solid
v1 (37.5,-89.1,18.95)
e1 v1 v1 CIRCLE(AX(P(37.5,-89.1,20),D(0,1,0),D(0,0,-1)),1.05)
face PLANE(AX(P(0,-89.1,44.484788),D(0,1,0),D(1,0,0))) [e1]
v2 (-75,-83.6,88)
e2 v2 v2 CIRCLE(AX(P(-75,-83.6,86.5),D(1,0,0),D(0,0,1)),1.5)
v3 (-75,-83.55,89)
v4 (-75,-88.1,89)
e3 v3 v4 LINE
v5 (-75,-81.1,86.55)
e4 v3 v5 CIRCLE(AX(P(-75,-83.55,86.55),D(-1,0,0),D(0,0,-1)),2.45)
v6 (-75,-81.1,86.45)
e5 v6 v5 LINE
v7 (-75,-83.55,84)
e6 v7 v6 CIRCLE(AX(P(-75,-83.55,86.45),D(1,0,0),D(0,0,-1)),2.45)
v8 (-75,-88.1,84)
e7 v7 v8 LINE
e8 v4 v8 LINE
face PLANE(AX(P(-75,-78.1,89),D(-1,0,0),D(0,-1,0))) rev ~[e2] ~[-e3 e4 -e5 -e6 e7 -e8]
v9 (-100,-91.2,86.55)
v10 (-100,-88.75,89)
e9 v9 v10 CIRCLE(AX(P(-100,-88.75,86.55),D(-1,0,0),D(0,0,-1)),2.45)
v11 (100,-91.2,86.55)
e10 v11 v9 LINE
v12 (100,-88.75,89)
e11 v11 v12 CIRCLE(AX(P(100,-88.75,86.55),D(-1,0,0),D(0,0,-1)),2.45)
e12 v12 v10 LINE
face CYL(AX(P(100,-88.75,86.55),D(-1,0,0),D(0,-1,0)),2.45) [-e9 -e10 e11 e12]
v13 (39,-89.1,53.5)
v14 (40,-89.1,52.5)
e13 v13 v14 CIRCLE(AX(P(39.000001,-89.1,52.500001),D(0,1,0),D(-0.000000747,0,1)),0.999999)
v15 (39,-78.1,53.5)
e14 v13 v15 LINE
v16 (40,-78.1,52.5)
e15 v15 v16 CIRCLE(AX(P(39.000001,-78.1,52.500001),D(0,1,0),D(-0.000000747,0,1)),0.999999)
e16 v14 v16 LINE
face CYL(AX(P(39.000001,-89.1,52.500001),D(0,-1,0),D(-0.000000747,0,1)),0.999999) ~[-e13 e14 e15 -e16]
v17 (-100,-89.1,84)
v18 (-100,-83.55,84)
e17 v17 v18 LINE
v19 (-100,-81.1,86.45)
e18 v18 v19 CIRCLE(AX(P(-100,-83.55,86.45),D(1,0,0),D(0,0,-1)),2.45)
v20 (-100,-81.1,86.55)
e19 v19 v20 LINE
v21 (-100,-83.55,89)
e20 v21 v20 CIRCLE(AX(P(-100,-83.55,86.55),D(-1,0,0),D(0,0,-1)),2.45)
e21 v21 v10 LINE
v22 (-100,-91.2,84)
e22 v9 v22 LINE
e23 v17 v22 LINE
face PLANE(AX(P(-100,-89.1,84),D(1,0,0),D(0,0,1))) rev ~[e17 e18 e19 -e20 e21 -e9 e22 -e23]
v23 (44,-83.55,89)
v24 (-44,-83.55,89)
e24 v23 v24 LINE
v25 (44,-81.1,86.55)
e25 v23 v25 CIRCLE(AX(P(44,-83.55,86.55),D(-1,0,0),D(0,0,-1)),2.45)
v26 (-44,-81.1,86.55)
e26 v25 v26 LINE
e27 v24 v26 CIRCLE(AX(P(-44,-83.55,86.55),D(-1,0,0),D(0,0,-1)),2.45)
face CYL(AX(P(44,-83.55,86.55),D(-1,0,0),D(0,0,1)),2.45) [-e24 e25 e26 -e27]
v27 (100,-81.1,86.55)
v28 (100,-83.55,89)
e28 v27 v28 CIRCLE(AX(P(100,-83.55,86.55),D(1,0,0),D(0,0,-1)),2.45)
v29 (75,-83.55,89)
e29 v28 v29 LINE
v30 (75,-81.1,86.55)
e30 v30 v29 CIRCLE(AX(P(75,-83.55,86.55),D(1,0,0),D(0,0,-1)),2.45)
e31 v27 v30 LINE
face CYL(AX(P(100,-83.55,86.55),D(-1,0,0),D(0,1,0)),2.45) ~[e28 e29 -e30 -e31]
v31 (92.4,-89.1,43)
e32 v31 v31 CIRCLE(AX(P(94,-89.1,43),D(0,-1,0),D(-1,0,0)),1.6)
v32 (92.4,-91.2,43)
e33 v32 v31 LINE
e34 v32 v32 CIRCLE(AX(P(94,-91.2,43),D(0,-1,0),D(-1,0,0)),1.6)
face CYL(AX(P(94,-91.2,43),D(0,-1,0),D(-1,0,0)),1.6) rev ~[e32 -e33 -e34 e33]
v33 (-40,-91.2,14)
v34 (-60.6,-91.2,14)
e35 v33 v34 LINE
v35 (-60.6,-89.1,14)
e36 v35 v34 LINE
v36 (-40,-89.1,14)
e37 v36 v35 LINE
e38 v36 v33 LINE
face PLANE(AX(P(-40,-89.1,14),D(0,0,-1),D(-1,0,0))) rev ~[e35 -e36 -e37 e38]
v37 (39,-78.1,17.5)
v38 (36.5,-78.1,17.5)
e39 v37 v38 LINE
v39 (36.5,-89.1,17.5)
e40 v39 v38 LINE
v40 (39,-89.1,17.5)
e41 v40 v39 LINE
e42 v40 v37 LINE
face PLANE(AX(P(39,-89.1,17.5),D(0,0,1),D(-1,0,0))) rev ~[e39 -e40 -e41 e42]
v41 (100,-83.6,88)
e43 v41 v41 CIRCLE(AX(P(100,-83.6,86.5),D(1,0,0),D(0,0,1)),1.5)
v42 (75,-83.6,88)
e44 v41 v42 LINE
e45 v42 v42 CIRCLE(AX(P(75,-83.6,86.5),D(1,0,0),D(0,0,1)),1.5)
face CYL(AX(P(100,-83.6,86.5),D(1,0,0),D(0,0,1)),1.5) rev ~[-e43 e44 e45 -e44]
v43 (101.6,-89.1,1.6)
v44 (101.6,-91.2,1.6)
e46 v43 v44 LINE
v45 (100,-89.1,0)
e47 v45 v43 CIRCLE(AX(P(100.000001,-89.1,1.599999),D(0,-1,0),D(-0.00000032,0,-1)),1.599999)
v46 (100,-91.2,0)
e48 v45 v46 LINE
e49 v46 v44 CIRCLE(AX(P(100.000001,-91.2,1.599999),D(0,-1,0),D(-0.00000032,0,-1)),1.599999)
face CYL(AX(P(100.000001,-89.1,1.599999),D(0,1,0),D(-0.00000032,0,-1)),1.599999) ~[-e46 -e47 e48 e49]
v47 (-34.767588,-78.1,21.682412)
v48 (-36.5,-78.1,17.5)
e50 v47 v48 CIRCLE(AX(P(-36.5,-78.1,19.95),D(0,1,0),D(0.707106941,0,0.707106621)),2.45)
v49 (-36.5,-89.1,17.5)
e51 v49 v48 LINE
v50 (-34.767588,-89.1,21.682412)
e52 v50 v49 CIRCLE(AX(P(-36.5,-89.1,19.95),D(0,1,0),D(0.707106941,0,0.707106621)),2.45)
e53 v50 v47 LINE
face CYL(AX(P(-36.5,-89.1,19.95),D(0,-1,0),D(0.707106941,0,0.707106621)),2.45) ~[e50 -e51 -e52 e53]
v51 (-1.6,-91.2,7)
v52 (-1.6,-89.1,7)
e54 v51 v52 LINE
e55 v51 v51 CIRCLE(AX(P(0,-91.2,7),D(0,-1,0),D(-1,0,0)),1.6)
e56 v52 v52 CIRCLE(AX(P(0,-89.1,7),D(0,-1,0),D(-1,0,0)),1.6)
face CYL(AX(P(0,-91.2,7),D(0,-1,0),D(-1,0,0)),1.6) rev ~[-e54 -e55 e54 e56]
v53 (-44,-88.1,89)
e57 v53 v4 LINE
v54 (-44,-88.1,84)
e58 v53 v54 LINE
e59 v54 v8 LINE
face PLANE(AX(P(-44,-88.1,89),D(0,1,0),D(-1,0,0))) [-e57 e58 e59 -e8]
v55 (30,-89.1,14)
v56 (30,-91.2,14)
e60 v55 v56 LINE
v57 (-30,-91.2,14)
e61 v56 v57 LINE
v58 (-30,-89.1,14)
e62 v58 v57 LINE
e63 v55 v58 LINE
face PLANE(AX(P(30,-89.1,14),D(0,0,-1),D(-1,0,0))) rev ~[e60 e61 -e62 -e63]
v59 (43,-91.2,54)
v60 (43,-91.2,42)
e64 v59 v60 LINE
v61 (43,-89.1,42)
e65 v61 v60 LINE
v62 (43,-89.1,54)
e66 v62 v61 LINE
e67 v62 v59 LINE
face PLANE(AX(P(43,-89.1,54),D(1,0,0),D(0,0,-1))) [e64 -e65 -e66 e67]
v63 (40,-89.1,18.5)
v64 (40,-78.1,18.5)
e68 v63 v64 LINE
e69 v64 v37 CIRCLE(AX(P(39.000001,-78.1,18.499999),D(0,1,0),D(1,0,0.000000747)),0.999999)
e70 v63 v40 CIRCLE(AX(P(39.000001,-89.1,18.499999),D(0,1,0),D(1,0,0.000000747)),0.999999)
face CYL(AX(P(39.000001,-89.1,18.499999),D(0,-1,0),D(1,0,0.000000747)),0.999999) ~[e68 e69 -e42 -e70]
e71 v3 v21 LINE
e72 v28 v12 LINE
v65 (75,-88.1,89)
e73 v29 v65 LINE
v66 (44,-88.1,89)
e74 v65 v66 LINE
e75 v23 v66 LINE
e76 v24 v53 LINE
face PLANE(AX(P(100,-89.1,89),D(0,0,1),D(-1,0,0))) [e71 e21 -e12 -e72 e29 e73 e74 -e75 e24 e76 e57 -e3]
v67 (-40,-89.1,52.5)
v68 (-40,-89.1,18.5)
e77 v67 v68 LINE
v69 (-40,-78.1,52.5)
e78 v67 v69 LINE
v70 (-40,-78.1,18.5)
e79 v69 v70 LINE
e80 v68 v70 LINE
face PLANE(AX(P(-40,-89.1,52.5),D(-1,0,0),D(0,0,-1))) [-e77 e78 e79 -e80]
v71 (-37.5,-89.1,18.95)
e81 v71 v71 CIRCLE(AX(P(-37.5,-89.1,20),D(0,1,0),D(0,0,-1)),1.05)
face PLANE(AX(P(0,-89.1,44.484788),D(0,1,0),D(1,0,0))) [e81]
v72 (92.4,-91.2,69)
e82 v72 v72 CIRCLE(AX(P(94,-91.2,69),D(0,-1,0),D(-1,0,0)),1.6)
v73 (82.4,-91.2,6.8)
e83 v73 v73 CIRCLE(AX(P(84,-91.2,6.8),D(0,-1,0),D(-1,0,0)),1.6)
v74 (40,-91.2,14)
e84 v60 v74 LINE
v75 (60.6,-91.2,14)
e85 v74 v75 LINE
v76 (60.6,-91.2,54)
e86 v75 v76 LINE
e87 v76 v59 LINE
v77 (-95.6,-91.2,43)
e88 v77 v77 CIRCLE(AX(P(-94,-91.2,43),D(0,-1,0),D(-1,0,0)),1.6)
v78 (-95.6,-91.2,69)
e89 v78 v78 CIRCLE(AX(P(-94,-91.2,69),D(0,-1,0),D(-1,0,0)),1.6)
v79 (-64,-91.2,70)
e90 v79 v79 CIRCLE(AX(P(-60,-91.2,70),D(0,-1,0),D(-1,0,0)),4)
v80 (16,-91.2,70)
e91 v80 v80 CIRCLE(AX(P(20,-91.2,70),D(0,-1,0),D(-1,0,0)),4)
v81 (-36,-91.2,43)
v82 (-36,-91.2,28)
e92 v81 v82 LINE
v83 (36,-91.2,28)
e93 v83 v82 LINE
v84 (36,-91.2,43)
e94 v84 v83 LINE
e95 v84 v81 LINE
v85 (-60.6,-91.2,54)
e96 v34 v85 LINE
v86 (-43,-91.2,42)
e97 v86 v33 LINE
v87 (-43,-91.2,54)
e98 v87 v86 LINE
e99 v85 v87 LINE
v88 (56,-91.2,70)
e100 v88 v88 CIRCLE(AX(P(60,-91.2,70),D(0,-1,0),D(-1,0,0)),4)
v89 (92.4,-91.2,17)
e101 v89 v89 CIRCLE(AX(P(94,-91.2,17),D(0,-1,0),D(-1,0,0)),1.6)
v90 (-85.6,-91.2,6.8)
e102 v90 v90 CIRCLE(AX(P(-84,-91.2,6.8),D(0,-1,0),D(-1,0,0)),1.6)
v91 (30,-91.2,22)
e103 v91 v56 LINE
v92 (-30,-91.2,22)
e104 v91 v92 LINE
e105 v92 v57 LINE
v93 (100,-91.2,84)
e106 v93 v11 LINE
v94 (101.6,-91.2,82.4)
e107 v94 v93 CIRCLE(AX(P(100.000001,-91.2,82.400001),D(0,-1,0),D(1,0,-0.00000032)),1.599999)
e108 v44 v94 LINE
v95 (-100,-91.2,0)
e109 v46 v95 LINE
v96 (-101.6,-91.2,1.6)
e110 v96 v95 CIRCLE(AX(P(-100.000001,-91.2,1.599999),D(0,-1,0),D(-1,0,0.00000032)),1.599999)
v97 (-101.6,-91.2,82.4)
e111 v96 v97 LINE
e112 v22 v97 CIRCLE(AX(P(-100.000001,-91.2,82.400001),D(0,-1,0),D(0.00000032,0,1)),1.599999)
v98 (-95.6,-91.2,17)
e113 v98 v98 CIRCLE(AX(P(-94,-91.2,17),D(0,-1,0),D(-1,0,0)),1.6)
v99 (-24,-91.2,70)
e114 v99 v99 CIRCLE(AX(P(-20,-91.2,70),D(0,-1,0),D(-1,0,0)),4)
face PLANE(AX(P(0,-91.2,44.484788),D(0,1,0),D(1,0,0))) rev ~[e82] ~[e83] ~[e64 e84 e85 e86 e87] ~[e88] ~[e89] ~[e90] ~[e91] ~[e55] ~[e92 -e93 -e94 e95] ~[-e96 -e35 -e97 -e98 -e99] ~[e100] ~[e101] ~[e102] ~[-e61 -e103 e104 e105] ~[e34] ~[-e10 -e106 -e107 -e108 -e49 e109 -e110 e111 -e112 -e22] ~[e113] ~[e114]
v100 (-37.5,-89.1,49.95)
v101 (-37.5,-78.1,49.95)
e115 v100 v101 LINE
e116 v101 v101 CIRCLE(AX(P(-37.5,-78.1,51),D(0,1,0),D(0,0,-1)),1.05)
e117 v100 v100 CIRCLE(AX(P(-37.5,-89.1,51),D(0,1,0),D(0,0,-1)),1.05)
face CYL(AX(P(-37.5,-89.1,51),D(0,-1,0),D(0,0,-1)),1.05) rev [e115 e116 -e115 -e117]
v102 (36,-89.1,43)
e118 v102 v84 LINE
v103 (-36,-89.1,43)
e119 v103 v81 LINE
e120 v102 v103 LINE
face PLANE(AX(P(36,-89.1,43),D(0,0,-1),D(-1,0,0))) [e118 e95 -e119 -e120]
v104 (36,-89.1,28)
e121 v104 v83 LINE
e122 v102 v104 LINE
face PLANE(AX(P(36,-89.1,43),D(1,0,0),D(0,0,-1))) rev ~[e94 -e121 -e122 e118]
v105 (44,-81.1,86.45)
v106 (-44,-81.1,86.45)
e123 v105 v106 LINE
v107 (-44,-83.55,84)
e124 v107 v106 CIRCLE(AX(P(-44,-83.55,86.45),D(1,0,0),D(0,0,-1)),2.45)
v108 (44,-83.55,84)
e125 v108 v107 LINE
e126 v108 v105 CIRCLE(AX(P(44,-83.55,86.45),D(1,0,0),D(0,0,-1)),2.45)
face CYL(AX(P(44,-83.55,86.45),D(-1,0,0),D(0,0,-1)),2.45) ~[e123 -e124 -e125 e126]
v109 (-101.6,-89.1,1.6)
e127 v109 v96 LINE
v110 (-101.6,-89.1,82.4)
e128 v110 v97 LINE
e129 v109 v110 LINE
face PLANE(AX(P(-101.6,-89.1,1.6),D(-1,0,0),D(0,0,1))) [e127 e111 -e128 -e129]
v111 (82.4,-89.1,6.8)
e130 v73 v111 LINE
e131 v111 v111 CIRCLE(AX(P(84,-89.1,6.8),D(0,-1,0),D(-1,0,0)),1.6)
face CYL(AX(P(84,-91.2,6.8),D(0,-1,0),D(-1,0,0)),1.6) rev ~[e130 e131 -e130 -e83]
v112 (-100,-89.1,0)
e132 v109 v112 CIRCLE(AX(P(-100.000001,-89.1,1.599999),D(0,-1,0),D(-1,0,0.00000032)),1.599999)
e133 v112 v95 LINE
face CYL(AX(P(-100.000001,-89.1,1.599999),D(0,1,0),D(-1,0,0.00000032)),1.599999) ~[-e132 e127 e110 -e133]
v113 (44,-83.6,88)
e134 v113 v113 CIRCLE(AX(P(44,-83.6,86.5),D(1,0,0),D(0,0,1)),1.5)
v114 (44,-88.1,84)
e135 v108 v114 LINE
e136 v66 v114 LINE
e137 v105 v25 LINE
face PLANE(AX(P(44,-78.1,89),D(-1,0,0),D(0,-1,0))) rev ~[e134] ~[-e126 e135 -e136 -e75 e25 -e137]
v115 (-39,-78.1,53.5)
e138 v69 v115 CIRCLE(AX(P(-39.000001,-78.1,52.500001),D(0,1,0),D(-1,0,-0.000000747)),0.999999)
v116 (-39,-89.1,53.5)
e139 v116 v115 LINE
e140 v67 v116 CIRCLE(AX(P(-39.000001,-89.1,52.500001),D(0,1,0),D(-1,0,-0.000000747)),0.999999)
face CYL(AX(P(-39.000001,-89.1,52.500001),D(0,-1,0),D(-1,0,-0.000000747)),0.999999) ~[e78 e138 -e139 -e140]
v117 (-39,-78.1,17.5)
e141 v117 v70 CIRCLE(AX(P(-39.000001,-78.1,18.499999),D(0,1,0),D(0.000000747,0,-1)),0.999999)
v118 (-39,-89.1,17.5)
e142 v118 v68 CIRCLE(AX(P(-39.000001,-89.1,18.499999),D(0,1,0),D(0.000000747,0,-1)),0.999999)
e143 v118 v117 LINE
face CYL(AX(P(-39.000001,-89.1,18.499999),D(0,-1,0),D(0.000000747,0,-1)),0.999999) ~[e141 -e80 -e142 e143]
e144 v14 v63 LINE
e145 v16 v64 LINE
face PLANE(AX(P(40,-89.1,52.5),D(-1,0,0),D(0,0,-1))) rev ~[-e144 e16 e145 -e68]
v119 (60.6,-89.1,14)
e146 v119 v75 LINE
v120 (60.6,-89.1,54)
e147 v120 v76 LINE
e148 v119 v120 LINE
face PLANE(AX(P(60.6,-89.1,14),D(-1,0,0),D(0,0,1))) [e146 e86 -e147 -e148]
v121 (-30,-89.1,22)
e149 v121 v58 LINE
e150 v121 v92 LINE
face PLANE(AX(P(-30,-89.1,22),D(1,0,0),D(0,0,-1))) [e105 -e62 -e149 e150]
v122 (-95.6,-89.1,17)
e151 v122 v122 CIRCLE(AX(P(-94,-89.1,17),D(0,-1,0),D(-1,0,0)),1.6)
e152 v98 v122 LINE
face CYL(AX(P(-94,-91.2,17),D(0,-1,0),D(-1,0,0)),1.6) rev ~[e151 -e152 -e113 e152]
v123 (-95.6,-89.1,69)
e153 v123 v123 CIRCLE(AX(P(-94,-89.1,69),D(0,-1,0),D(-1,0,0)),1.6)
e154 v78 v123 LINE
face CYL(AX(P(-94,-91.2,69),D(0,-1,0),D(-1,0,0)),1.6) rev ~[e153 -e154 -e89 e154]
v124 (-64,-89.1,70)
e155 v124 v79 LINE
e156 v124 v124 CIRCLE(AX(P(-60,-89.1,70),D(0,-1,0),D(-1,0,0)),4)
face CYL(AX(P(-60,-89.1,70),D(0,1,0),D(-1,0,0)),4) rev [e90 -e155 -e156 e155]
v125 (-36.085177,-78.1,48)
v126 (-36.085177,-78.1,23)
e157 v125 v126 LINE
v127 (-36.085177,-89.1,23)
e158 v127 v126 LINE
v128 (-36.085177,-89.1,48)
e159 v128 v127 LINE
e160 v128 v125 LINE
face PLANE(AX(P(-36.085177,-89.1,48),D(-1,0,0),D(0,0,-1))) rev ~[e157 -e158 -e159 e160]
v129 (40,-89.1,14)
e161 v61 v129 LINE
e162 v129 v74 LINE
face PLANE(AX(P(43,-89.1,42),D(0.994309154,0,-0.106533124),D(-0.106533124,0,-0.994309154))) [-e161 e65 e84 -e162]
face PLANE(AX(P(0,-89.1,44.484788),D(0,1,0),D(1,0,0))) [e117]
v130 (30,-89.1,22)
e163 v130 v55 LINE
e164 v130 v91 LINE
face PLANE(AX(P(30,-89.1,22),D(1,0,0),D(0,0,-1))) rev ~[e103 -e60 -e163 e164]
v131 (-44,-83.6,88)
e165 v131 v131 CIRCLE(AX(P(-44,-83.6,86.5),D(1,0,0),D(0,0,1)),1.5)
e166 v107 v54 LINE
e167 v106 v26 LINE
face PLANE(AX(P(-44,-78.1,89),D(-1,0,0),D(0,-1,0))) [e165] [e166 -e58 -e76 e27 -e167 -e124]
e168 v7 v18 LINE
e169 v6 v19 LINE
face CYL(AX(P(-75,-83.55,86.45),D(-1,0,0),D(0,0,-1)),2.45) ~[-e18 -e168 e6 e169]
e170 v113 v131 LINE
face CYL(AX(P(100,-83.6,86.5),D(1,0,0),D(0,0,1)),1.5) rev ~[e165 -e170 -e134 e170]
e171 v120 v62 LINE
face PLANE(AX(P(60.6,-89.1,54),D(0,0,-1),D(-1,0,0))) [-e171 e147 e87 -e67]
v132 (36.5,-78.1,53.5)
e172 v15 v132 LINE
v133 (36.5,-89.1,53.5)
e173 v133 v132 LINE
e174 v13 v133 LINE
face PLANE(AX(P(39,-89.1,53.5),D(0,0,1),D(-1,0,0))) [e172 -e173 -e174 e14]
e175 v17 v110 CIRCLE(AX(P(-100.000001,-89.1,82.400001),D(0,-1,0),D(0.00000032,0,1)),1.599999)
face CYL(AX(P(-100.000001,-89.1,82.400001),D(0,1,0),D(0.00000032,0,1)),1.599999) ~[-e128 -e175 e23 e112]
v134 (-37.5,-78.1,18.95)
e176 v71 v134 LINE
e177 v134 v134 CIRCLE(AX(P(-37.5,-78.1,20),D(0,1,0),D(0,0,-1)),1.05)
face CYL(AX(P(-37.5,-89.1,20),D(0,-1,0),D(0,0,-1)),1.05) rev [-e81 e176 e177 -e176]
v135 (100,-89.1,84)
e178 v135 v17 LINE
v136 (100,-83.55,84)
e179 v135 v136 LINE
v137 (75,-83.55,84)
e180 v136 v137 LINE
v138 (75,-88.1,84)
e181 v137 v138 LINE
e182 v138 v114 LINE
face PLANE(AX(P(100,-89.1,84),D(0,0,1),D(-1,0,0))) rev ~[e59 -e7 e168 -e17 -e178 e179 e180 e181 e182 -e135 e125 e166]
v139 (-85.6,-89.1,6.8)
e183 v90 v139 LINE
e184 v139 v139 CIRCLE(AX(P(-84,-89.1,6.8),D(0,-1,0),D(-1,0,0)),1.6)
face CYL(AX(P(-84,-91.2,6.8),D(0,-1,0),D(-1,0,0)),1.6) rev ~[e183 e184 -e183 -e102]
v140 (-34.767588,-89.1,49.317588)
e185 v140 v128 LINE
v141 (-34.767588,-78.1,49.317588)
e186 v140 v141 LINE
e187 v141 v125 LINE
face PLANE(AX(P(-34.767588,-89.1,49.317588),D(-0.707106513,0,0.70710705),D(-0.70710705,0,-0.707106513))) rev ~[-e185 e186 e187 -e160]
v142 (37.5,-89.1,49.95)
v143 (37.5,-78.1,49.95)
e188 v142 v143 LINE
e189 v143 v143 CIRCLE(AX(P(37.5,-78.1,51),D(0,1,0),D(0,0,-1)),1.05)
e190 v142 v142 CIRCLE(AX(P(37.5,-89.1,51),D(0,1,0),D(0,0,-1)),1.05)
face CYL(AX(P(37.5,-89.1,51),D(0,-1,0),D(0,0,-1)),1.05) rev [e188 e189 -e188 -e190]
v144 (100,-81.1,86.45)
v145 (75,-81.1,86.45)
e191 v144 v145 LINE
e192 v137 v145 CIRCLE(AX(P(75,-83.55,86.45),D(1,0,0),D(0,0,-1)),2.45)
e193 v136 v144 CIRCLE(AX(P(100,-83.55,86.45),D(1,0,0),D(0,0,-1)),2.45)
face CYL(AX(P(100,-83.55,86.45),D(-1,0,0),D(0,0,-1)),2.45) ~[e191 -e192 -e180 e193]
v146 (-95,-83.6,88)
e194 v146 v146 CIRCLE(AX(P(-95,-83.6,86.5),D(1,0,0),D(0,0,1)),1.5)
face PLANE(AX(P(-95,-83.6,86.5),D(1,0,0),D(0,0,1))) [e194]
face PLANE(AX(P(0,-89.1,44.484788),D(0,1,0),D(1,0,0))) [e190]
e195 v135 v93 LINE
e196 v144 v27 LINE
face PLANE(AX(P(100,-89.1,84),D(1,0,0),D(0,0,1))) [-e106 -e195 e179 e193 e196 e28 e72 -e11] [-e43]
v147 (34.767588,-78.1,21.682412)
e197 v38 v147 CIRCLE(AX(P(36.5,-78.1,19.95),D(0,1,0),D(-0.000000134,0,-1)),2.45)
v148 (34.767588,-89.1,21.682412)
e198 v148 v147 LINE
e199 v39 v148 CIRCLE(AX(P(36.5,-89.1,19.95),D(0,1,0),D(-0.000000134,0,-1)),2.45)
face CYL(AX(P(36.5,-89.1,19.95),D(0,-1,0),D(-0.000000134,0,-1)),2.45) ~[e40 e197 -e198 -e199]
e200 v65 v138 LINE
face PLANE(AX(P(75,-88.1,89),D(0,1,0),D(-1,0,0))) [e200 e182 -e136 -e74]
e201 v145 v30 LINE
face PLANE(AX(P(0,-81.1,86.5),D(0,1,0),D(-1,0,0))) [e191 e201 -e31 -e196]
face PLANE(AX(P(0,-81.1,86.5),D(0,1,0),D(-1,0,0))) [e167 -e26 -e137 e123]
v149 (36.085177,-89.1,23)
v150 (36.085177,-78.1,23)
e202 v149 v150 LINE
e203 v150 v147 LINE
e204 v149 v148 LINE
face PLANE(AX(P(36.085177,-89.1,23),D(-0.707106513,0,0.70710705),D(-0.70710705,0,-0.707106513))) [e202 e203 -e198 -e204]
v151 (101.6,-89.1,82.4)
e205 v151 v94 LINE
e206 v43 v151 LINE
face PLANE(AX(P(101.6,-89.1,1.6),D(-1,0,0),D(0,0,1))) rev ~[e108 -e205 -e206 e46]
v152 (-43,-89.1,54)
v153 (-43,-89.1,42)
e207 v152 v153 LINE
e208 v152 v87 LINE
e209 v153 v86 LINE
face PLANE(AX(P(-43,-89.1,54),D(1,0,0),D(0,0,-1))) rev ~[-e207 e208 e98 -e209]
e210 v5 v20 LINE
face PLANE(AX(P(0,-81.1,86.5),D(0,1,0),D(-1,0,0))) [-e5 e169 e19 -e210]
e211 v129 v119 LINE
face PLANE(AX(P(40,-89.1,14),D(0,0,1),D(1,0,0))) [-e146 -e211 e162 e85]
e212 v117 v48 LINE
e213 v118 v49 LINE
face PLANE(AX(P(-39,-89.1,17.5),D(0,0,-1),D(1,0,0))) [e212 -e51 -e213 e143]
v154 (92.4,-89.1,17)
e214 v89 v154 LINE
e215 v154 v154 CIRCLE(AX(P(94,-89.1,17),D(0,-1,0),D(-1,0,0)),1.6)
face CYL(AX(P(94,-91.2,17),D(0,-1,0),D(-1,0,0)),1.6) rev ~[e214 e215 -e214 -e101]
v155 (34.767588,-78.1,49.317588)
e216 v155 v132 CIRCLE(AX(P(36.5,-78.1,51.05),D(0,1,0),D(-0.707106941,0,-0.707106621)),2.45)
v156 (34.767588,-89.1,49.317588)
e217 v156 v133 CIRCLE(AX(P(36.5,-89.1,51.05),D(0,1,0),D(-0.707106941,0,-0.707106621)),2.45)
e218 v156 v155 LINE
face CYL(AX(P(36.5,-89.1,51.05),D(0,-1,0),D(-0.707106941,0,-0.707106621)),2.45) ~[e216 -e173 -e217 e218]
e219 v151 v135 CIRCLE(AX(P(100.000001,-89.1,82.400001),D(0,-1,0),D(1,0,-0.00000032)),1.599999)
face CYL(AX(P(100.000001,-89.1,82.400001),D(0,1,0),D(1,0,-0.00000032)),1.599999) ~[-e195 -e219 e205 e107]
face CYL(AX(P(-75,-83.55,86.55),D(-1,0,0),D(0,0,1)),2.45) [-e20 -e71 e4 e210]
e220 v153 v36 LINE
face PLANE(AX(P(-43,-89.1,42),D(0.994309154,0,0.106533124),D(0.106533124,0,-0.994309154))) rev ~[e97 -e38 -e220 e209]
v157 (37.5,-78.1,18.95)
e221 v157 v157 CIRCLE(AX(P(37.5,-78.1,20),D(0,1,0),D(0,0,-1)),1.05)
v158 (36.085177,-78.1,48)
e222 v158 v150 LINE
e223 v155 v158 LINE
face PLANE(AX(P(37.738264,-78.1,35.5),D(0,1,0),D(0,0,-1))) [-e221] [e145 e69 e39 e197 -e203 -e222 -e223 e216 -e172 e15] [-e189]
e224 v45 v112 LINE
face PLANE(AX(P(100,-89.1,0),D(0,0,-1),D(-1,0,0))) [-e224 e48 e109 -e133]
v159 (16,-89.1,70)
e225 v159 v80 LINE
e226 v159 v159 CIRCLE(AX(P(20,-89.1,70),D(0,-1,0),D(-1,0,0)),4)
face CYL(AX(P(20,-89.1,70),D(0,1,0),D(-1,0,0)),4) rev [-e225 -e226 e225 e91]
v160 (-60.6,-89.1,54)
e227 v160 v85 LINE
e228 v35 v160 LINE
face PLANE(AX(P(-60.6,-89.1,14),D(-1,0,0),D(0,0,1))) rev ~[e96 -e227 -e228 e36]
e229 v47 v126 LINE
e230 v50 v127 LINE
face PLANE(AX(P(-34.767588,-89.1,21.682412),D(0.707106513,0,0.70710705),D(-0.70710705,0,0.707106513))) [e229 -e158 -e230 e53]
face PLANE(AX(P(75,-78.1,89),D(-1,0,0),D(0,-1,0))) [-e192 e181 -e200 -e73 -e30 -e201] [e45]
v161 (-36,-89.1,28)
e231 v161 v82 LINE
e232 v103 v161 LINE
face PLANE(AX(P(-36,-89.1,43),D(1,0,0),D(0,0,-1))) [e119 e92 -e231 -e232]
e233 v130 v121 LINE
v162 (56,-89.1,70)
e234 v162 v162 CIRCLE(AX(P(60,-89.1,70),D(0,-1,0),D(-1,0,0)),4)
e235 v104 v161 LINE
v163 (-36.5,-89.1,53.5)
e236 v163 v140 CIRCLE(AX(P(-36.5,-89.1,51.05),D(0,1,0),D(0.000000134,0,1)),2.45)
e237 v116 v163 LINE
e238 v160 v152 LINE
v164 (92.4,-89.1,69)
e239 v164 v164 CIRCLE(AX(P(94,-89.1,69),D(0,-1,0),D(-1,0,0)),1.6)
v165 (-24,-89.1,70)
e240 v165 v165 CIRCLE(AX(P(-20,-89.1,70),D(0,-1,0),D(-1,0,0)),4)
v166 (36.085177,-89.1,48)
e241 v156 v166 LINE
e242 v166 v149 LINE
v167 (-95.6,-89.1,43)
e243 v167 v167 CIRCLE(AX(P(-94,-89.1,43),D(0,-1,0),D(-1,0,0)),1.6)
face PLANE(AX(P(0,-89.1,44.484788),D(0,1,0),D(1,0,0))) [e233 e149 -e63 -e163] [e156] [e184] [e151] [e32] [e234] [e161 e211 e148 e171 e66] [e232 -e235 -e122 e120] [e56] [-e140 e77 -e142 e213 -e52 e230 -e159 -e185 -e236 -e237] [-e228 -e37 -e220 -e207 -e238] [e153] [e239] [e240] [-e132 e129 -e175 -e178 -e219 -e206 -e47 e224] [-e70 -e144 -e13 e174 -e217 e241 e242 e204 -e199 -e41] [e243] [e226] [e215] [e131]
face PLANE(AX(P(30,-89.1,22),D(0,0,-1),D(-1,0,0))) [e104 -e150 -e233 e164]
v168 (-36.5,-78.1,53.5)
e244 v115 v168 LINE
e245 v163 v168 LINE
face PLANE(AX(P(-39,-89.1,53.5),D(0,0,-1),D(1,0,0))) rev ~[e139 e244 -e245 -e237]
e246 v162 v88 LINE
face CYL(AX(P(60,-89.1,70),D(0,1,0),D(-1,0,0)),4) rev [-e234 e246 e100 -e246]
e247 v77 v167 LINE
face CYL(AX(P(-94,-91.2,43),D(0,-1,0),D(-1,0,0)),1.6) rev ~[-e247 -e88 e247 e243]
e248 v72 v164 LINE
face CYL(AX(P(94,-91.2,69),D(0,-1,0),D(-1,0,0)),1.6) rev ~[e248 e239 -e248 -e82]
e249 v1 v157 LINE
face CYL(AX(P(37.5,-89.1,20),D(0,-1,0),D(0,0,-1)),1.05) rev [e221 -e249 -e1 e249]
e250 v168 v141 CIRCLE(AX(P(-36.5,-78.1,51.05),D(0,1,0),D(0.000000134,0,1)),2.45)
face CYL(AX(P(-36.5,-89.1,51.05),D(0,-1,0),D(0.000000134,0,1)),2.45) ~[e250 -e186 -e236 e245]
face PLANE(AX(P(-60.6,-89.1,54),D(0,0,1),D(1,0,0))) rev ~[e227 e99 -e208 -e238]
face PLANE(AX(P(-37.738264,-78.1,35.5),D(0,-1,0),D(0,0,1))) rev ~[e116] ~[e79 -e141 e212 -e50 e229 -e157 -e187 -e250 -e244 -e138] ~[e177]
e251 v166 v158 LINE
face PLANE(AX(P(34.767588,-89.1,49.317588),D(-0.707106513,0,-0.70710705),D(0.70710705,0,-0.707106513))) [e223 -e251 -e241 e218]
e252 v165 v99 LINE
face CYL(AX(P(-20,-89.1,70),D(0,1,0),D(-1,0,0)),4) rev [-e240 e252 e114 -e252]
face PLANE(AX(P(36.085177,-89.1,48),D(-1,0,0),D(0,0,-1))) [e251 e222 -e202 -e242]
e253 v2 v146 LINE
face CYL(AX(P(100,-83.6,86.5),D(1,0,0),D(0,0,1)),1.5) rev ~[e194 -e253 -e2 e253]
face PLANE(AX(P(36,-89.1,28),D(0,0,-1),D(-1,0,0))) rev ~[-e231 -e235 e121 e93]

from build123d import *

# Parameters (mm, degrees)
SKETCH006_R             = 4
SKETCH006_W             = 72
SKETCH006_H             = 15
SKETCH006_W_2           = 60
SKETCH006_H_2           = 8
PAD002_DEPTH            = 2.1
SKETCH010_R             = 1.6
POCKET004_DEPTH         = 5
SKETCH012_R             = 1.05
PAD004_DEPTH            = 11
SKETCH018_W             = 200
SKETCH018_H             = 5
PAD009_DEPTH            = 8
SKETCH019_W             = 31
SKETCH019_H             = 10
POCKET_DEPTH            = 5
SKETCH020_R             = 1.5
POCKET007_DEPTH         = 195
FILLET009_R             = 2.45
BODY002_PLACEMENT_ANGLE = 180


with BuildPart() as part:
    # Sketch006 → Pad002 (new body)
    with BuildSketch(Plane.XZ):
        with BuildLine():
            Line((-100, 0), (100, 0))
            ThreePointArc((101.6, -1.6), (101.131371, -0.468629), (100, 0))
            Line((101.6, -1.6), (101.6, -82.4))
            ThreePointArc((100, -84), (101.131371, -83.531371), (101.6, -82.4))
            Line((100, -89), (100, -84))
            Line((-100, -89), (100, -89))
            Line((-100, -84), (-100, -89))
            ThreePointArc((-101.6, -82.4), (-101.131371, -83.531371), (-100, -84))
            Line((-101.6, -1.6), (-101.6, -82.4))
            ThreePointArc((-100, 0), (-101.131371, -0.468629), (-101.6, -1.6))
        make_face()
        with Locations((-20, -70)):
            Circle(SKETCH006_R, mode=Mode.SUBTRACT)
        with Locations((20, -70)):
            Circle(SKETCH006_R, mode=Mode.SUBTRACT)
        with Locations((60, -70)):
            Circle(SKETCH006_R, mode=Mode.SUBTRACT)
        with Locations((-60, -70)):
            Circle(SKETCH006_R, mode=Mode.SUBTRACT)
        with Locations((0, -35.5)):
            Rectangle(SKETCH006_W, SKETCH006_H, mode=Mode.SUBTRACT)
        Polygon((-60.6, -14), (-60.6, -54), (-43, -54), (-43, -42), (-40, -14), align=None, mode=Mode.SUBTRACT)
        Polygon((40, -14), (60.6, -14), (60.6, -54), (43, -54), (43, -42), align=None, mode=Mode.SUBTRACT)
        with Locations((0, -18)):
            Rectangle(SKETCH006_W_2, SKETCH006_H_2, mode=Mode.SUBTRACT)
    extrude(amount=PAD002_DEPTH)

    # Sketch010 → Pocket004 (cut)
    with BuildSketch(Plane.XZ.offset(2.1)):
        with Locations((-84, -6.8)):
            Circle(SKETCH010_R)
        with Locations((84, -6.8)):
            Circle(SKETCH010_R)
        with Locations((94, -17)):
            Circle(SKETCH010_R)
        with Locations((94, -69)):
            Circle(SKETCH010_R)
        with Locations((-94, -69)):
            Circle(SKETCH010_R)
        with Locations((-94, -17)):
            Circle(SKETCH010_R)
        with Locations((0, -7)):
            Circle(SKETCH010_R)
        with Locations((-94, -43)):
            Circle(SKETCH010_R)
        with Locations((94, -43)):
            Circle(SKETCH010_R)
    extrude(amount=-POCKET004_DEPTH, mode=Mode.SUBTRACT)

    # Sketch012 → Pad004 (join)
    with BuildSketch(Plane.ZX):
        with BuildLine():
            Line((-52.5, 40), (-18.5, 40))
            ThreePointArc((-17.5, 39), (-17.792893, 39.707107), (-18.5, 40))
            Line((-17.5, 39), (-17.5, 36.5))
            ThreePointArc((-21.682412, 34.767588), (-19.012426, 34.236495), (-17.5, 36.5))
            Line((-21.682412, 34.767588), (-23, 36.085177))
            Line((-48, 36.085177), (-23, 36.085177))
            Line((-49.317588, 34.767588), (-48, 36.085177))
            ThreePointArc((-53.5, 36.5), (-51.987574, 34.236495), (-49.317588, 34.767588))
            Line((-53.5, 39), (-53.5, 36.5))
            ThreePointArc((-52.5, 40), (-53.207107, 39.707107), (-53.5, 39))
        make_face()
        with Locations((-20, 37.5)):
            Circle(SKETCH012_R, mode=Mode.SUBTRACT)
        with Locations((-51, 37.5)):
            Circle(SKETCH012_R, mode=Mode.SUBTRACT)
        with BuildLine():
            Line((-52.5, -40), (-18.5, -40))
            ThreePointArc((-18.5, -40), (-17.792893, -39.707107), (-17.5, -39))
            Line((-17.5, -39), (-17.5, -36.5))
            ThreePointArc((-17.5, -36.5), (-19.012426, -34.236495), (-21.682412, -34.767588))
            Line((-23, -36.085177), (-21.682412, -34.767588))
            Line((-48, -36.085177), (-23, -36.085177))
            Line((-49.317588, -34.767588), (-48, -36.085177))
            ThreePointArc((-49.317588, -34.767588), (-51.987574, -34.236495), (-53.5, -36.5))
            Line((-53.5, -39), (-53.5, -36.5))
            ThreePointArc((-53.5, -39), (-53.207107, -39.707107), (-52.5, -40))
        make_face()
        with Locations((-51, -37.5)):
            Circle(SKETCH012_R, mode=Mode.SUBTRACT)
        with Locations((-20, -37.5)):
            Circle(SKETCH012_R, mode=Mode.SUBTRACT)
    extrude(amount=PAD004_DEPTH)

    # Sketch018 (on Face4 of Pad004) → Pad009 (join)
    with BuildSketch(Plane(origin=(0, 0, 0), x_dir=(1, 0, 0), z_dir=(0, 1, 0))):
        with Locations((0, 86.5)):
            Rectangle(SKETCH018_W, SKETCH018_H)
    extrude(amount=PAD009_DEPTH)

    # Sketch019 (on Face74 of Pad009) → Pocket (cut)
    with BuildSketch(Plane(origin=(0, 0, -89), x_dir=(1, 0, 0), z_dir=(0, 0, -1))):
        with Locations((-59.5, -6)):
            Rectangle(SKETCH019_W, SKETCH019_H)
        with Locations((59.5, -6)):
            Rectangle(SKETCH019_W, SKETCH019_H)
    extrude(amount=-POCKET_DEPTH, mode=Mode.SUBTRACT)

    # Sketch020 (on Face62 of Pocket) → Pocket007 (cut)
    with BuildSketch(Plane(origin=(-100, 0, 0), x_dir=(0, 0, -1), z_dir=(-1, 0, 0))):
        with Locations((86.5, -5.5)):
            Circle(SKETCH020_R)
    extrude(amount=-POCKET007_DEPTH, mode=Mode.SUBTRACT)

    # Fillet009
    fillet009_edges = [part.edges().sort_by_distance(p)[0] for p in [
        (87.5, 8, -89),
        (87.5, 8, -84),
        (0, -2.1, -89),
        (0, 8, -89),
        (0, 8, -84),
        (-87.5, 8, -89),
        (-87.5, 8, -84),
    ]]
    fillet(fillet009_edges, radius=FILLET009_R)


with BuildPart() as part_1:
    # Body002 placement: moved
    add(part.part.moved(Location((0, -89.1, 0))).rotate(Axis((0, -89.1, 0), (0, 1, 0)), BODY002_PLACEMENT_ANGLE))


solid = part_1.part
